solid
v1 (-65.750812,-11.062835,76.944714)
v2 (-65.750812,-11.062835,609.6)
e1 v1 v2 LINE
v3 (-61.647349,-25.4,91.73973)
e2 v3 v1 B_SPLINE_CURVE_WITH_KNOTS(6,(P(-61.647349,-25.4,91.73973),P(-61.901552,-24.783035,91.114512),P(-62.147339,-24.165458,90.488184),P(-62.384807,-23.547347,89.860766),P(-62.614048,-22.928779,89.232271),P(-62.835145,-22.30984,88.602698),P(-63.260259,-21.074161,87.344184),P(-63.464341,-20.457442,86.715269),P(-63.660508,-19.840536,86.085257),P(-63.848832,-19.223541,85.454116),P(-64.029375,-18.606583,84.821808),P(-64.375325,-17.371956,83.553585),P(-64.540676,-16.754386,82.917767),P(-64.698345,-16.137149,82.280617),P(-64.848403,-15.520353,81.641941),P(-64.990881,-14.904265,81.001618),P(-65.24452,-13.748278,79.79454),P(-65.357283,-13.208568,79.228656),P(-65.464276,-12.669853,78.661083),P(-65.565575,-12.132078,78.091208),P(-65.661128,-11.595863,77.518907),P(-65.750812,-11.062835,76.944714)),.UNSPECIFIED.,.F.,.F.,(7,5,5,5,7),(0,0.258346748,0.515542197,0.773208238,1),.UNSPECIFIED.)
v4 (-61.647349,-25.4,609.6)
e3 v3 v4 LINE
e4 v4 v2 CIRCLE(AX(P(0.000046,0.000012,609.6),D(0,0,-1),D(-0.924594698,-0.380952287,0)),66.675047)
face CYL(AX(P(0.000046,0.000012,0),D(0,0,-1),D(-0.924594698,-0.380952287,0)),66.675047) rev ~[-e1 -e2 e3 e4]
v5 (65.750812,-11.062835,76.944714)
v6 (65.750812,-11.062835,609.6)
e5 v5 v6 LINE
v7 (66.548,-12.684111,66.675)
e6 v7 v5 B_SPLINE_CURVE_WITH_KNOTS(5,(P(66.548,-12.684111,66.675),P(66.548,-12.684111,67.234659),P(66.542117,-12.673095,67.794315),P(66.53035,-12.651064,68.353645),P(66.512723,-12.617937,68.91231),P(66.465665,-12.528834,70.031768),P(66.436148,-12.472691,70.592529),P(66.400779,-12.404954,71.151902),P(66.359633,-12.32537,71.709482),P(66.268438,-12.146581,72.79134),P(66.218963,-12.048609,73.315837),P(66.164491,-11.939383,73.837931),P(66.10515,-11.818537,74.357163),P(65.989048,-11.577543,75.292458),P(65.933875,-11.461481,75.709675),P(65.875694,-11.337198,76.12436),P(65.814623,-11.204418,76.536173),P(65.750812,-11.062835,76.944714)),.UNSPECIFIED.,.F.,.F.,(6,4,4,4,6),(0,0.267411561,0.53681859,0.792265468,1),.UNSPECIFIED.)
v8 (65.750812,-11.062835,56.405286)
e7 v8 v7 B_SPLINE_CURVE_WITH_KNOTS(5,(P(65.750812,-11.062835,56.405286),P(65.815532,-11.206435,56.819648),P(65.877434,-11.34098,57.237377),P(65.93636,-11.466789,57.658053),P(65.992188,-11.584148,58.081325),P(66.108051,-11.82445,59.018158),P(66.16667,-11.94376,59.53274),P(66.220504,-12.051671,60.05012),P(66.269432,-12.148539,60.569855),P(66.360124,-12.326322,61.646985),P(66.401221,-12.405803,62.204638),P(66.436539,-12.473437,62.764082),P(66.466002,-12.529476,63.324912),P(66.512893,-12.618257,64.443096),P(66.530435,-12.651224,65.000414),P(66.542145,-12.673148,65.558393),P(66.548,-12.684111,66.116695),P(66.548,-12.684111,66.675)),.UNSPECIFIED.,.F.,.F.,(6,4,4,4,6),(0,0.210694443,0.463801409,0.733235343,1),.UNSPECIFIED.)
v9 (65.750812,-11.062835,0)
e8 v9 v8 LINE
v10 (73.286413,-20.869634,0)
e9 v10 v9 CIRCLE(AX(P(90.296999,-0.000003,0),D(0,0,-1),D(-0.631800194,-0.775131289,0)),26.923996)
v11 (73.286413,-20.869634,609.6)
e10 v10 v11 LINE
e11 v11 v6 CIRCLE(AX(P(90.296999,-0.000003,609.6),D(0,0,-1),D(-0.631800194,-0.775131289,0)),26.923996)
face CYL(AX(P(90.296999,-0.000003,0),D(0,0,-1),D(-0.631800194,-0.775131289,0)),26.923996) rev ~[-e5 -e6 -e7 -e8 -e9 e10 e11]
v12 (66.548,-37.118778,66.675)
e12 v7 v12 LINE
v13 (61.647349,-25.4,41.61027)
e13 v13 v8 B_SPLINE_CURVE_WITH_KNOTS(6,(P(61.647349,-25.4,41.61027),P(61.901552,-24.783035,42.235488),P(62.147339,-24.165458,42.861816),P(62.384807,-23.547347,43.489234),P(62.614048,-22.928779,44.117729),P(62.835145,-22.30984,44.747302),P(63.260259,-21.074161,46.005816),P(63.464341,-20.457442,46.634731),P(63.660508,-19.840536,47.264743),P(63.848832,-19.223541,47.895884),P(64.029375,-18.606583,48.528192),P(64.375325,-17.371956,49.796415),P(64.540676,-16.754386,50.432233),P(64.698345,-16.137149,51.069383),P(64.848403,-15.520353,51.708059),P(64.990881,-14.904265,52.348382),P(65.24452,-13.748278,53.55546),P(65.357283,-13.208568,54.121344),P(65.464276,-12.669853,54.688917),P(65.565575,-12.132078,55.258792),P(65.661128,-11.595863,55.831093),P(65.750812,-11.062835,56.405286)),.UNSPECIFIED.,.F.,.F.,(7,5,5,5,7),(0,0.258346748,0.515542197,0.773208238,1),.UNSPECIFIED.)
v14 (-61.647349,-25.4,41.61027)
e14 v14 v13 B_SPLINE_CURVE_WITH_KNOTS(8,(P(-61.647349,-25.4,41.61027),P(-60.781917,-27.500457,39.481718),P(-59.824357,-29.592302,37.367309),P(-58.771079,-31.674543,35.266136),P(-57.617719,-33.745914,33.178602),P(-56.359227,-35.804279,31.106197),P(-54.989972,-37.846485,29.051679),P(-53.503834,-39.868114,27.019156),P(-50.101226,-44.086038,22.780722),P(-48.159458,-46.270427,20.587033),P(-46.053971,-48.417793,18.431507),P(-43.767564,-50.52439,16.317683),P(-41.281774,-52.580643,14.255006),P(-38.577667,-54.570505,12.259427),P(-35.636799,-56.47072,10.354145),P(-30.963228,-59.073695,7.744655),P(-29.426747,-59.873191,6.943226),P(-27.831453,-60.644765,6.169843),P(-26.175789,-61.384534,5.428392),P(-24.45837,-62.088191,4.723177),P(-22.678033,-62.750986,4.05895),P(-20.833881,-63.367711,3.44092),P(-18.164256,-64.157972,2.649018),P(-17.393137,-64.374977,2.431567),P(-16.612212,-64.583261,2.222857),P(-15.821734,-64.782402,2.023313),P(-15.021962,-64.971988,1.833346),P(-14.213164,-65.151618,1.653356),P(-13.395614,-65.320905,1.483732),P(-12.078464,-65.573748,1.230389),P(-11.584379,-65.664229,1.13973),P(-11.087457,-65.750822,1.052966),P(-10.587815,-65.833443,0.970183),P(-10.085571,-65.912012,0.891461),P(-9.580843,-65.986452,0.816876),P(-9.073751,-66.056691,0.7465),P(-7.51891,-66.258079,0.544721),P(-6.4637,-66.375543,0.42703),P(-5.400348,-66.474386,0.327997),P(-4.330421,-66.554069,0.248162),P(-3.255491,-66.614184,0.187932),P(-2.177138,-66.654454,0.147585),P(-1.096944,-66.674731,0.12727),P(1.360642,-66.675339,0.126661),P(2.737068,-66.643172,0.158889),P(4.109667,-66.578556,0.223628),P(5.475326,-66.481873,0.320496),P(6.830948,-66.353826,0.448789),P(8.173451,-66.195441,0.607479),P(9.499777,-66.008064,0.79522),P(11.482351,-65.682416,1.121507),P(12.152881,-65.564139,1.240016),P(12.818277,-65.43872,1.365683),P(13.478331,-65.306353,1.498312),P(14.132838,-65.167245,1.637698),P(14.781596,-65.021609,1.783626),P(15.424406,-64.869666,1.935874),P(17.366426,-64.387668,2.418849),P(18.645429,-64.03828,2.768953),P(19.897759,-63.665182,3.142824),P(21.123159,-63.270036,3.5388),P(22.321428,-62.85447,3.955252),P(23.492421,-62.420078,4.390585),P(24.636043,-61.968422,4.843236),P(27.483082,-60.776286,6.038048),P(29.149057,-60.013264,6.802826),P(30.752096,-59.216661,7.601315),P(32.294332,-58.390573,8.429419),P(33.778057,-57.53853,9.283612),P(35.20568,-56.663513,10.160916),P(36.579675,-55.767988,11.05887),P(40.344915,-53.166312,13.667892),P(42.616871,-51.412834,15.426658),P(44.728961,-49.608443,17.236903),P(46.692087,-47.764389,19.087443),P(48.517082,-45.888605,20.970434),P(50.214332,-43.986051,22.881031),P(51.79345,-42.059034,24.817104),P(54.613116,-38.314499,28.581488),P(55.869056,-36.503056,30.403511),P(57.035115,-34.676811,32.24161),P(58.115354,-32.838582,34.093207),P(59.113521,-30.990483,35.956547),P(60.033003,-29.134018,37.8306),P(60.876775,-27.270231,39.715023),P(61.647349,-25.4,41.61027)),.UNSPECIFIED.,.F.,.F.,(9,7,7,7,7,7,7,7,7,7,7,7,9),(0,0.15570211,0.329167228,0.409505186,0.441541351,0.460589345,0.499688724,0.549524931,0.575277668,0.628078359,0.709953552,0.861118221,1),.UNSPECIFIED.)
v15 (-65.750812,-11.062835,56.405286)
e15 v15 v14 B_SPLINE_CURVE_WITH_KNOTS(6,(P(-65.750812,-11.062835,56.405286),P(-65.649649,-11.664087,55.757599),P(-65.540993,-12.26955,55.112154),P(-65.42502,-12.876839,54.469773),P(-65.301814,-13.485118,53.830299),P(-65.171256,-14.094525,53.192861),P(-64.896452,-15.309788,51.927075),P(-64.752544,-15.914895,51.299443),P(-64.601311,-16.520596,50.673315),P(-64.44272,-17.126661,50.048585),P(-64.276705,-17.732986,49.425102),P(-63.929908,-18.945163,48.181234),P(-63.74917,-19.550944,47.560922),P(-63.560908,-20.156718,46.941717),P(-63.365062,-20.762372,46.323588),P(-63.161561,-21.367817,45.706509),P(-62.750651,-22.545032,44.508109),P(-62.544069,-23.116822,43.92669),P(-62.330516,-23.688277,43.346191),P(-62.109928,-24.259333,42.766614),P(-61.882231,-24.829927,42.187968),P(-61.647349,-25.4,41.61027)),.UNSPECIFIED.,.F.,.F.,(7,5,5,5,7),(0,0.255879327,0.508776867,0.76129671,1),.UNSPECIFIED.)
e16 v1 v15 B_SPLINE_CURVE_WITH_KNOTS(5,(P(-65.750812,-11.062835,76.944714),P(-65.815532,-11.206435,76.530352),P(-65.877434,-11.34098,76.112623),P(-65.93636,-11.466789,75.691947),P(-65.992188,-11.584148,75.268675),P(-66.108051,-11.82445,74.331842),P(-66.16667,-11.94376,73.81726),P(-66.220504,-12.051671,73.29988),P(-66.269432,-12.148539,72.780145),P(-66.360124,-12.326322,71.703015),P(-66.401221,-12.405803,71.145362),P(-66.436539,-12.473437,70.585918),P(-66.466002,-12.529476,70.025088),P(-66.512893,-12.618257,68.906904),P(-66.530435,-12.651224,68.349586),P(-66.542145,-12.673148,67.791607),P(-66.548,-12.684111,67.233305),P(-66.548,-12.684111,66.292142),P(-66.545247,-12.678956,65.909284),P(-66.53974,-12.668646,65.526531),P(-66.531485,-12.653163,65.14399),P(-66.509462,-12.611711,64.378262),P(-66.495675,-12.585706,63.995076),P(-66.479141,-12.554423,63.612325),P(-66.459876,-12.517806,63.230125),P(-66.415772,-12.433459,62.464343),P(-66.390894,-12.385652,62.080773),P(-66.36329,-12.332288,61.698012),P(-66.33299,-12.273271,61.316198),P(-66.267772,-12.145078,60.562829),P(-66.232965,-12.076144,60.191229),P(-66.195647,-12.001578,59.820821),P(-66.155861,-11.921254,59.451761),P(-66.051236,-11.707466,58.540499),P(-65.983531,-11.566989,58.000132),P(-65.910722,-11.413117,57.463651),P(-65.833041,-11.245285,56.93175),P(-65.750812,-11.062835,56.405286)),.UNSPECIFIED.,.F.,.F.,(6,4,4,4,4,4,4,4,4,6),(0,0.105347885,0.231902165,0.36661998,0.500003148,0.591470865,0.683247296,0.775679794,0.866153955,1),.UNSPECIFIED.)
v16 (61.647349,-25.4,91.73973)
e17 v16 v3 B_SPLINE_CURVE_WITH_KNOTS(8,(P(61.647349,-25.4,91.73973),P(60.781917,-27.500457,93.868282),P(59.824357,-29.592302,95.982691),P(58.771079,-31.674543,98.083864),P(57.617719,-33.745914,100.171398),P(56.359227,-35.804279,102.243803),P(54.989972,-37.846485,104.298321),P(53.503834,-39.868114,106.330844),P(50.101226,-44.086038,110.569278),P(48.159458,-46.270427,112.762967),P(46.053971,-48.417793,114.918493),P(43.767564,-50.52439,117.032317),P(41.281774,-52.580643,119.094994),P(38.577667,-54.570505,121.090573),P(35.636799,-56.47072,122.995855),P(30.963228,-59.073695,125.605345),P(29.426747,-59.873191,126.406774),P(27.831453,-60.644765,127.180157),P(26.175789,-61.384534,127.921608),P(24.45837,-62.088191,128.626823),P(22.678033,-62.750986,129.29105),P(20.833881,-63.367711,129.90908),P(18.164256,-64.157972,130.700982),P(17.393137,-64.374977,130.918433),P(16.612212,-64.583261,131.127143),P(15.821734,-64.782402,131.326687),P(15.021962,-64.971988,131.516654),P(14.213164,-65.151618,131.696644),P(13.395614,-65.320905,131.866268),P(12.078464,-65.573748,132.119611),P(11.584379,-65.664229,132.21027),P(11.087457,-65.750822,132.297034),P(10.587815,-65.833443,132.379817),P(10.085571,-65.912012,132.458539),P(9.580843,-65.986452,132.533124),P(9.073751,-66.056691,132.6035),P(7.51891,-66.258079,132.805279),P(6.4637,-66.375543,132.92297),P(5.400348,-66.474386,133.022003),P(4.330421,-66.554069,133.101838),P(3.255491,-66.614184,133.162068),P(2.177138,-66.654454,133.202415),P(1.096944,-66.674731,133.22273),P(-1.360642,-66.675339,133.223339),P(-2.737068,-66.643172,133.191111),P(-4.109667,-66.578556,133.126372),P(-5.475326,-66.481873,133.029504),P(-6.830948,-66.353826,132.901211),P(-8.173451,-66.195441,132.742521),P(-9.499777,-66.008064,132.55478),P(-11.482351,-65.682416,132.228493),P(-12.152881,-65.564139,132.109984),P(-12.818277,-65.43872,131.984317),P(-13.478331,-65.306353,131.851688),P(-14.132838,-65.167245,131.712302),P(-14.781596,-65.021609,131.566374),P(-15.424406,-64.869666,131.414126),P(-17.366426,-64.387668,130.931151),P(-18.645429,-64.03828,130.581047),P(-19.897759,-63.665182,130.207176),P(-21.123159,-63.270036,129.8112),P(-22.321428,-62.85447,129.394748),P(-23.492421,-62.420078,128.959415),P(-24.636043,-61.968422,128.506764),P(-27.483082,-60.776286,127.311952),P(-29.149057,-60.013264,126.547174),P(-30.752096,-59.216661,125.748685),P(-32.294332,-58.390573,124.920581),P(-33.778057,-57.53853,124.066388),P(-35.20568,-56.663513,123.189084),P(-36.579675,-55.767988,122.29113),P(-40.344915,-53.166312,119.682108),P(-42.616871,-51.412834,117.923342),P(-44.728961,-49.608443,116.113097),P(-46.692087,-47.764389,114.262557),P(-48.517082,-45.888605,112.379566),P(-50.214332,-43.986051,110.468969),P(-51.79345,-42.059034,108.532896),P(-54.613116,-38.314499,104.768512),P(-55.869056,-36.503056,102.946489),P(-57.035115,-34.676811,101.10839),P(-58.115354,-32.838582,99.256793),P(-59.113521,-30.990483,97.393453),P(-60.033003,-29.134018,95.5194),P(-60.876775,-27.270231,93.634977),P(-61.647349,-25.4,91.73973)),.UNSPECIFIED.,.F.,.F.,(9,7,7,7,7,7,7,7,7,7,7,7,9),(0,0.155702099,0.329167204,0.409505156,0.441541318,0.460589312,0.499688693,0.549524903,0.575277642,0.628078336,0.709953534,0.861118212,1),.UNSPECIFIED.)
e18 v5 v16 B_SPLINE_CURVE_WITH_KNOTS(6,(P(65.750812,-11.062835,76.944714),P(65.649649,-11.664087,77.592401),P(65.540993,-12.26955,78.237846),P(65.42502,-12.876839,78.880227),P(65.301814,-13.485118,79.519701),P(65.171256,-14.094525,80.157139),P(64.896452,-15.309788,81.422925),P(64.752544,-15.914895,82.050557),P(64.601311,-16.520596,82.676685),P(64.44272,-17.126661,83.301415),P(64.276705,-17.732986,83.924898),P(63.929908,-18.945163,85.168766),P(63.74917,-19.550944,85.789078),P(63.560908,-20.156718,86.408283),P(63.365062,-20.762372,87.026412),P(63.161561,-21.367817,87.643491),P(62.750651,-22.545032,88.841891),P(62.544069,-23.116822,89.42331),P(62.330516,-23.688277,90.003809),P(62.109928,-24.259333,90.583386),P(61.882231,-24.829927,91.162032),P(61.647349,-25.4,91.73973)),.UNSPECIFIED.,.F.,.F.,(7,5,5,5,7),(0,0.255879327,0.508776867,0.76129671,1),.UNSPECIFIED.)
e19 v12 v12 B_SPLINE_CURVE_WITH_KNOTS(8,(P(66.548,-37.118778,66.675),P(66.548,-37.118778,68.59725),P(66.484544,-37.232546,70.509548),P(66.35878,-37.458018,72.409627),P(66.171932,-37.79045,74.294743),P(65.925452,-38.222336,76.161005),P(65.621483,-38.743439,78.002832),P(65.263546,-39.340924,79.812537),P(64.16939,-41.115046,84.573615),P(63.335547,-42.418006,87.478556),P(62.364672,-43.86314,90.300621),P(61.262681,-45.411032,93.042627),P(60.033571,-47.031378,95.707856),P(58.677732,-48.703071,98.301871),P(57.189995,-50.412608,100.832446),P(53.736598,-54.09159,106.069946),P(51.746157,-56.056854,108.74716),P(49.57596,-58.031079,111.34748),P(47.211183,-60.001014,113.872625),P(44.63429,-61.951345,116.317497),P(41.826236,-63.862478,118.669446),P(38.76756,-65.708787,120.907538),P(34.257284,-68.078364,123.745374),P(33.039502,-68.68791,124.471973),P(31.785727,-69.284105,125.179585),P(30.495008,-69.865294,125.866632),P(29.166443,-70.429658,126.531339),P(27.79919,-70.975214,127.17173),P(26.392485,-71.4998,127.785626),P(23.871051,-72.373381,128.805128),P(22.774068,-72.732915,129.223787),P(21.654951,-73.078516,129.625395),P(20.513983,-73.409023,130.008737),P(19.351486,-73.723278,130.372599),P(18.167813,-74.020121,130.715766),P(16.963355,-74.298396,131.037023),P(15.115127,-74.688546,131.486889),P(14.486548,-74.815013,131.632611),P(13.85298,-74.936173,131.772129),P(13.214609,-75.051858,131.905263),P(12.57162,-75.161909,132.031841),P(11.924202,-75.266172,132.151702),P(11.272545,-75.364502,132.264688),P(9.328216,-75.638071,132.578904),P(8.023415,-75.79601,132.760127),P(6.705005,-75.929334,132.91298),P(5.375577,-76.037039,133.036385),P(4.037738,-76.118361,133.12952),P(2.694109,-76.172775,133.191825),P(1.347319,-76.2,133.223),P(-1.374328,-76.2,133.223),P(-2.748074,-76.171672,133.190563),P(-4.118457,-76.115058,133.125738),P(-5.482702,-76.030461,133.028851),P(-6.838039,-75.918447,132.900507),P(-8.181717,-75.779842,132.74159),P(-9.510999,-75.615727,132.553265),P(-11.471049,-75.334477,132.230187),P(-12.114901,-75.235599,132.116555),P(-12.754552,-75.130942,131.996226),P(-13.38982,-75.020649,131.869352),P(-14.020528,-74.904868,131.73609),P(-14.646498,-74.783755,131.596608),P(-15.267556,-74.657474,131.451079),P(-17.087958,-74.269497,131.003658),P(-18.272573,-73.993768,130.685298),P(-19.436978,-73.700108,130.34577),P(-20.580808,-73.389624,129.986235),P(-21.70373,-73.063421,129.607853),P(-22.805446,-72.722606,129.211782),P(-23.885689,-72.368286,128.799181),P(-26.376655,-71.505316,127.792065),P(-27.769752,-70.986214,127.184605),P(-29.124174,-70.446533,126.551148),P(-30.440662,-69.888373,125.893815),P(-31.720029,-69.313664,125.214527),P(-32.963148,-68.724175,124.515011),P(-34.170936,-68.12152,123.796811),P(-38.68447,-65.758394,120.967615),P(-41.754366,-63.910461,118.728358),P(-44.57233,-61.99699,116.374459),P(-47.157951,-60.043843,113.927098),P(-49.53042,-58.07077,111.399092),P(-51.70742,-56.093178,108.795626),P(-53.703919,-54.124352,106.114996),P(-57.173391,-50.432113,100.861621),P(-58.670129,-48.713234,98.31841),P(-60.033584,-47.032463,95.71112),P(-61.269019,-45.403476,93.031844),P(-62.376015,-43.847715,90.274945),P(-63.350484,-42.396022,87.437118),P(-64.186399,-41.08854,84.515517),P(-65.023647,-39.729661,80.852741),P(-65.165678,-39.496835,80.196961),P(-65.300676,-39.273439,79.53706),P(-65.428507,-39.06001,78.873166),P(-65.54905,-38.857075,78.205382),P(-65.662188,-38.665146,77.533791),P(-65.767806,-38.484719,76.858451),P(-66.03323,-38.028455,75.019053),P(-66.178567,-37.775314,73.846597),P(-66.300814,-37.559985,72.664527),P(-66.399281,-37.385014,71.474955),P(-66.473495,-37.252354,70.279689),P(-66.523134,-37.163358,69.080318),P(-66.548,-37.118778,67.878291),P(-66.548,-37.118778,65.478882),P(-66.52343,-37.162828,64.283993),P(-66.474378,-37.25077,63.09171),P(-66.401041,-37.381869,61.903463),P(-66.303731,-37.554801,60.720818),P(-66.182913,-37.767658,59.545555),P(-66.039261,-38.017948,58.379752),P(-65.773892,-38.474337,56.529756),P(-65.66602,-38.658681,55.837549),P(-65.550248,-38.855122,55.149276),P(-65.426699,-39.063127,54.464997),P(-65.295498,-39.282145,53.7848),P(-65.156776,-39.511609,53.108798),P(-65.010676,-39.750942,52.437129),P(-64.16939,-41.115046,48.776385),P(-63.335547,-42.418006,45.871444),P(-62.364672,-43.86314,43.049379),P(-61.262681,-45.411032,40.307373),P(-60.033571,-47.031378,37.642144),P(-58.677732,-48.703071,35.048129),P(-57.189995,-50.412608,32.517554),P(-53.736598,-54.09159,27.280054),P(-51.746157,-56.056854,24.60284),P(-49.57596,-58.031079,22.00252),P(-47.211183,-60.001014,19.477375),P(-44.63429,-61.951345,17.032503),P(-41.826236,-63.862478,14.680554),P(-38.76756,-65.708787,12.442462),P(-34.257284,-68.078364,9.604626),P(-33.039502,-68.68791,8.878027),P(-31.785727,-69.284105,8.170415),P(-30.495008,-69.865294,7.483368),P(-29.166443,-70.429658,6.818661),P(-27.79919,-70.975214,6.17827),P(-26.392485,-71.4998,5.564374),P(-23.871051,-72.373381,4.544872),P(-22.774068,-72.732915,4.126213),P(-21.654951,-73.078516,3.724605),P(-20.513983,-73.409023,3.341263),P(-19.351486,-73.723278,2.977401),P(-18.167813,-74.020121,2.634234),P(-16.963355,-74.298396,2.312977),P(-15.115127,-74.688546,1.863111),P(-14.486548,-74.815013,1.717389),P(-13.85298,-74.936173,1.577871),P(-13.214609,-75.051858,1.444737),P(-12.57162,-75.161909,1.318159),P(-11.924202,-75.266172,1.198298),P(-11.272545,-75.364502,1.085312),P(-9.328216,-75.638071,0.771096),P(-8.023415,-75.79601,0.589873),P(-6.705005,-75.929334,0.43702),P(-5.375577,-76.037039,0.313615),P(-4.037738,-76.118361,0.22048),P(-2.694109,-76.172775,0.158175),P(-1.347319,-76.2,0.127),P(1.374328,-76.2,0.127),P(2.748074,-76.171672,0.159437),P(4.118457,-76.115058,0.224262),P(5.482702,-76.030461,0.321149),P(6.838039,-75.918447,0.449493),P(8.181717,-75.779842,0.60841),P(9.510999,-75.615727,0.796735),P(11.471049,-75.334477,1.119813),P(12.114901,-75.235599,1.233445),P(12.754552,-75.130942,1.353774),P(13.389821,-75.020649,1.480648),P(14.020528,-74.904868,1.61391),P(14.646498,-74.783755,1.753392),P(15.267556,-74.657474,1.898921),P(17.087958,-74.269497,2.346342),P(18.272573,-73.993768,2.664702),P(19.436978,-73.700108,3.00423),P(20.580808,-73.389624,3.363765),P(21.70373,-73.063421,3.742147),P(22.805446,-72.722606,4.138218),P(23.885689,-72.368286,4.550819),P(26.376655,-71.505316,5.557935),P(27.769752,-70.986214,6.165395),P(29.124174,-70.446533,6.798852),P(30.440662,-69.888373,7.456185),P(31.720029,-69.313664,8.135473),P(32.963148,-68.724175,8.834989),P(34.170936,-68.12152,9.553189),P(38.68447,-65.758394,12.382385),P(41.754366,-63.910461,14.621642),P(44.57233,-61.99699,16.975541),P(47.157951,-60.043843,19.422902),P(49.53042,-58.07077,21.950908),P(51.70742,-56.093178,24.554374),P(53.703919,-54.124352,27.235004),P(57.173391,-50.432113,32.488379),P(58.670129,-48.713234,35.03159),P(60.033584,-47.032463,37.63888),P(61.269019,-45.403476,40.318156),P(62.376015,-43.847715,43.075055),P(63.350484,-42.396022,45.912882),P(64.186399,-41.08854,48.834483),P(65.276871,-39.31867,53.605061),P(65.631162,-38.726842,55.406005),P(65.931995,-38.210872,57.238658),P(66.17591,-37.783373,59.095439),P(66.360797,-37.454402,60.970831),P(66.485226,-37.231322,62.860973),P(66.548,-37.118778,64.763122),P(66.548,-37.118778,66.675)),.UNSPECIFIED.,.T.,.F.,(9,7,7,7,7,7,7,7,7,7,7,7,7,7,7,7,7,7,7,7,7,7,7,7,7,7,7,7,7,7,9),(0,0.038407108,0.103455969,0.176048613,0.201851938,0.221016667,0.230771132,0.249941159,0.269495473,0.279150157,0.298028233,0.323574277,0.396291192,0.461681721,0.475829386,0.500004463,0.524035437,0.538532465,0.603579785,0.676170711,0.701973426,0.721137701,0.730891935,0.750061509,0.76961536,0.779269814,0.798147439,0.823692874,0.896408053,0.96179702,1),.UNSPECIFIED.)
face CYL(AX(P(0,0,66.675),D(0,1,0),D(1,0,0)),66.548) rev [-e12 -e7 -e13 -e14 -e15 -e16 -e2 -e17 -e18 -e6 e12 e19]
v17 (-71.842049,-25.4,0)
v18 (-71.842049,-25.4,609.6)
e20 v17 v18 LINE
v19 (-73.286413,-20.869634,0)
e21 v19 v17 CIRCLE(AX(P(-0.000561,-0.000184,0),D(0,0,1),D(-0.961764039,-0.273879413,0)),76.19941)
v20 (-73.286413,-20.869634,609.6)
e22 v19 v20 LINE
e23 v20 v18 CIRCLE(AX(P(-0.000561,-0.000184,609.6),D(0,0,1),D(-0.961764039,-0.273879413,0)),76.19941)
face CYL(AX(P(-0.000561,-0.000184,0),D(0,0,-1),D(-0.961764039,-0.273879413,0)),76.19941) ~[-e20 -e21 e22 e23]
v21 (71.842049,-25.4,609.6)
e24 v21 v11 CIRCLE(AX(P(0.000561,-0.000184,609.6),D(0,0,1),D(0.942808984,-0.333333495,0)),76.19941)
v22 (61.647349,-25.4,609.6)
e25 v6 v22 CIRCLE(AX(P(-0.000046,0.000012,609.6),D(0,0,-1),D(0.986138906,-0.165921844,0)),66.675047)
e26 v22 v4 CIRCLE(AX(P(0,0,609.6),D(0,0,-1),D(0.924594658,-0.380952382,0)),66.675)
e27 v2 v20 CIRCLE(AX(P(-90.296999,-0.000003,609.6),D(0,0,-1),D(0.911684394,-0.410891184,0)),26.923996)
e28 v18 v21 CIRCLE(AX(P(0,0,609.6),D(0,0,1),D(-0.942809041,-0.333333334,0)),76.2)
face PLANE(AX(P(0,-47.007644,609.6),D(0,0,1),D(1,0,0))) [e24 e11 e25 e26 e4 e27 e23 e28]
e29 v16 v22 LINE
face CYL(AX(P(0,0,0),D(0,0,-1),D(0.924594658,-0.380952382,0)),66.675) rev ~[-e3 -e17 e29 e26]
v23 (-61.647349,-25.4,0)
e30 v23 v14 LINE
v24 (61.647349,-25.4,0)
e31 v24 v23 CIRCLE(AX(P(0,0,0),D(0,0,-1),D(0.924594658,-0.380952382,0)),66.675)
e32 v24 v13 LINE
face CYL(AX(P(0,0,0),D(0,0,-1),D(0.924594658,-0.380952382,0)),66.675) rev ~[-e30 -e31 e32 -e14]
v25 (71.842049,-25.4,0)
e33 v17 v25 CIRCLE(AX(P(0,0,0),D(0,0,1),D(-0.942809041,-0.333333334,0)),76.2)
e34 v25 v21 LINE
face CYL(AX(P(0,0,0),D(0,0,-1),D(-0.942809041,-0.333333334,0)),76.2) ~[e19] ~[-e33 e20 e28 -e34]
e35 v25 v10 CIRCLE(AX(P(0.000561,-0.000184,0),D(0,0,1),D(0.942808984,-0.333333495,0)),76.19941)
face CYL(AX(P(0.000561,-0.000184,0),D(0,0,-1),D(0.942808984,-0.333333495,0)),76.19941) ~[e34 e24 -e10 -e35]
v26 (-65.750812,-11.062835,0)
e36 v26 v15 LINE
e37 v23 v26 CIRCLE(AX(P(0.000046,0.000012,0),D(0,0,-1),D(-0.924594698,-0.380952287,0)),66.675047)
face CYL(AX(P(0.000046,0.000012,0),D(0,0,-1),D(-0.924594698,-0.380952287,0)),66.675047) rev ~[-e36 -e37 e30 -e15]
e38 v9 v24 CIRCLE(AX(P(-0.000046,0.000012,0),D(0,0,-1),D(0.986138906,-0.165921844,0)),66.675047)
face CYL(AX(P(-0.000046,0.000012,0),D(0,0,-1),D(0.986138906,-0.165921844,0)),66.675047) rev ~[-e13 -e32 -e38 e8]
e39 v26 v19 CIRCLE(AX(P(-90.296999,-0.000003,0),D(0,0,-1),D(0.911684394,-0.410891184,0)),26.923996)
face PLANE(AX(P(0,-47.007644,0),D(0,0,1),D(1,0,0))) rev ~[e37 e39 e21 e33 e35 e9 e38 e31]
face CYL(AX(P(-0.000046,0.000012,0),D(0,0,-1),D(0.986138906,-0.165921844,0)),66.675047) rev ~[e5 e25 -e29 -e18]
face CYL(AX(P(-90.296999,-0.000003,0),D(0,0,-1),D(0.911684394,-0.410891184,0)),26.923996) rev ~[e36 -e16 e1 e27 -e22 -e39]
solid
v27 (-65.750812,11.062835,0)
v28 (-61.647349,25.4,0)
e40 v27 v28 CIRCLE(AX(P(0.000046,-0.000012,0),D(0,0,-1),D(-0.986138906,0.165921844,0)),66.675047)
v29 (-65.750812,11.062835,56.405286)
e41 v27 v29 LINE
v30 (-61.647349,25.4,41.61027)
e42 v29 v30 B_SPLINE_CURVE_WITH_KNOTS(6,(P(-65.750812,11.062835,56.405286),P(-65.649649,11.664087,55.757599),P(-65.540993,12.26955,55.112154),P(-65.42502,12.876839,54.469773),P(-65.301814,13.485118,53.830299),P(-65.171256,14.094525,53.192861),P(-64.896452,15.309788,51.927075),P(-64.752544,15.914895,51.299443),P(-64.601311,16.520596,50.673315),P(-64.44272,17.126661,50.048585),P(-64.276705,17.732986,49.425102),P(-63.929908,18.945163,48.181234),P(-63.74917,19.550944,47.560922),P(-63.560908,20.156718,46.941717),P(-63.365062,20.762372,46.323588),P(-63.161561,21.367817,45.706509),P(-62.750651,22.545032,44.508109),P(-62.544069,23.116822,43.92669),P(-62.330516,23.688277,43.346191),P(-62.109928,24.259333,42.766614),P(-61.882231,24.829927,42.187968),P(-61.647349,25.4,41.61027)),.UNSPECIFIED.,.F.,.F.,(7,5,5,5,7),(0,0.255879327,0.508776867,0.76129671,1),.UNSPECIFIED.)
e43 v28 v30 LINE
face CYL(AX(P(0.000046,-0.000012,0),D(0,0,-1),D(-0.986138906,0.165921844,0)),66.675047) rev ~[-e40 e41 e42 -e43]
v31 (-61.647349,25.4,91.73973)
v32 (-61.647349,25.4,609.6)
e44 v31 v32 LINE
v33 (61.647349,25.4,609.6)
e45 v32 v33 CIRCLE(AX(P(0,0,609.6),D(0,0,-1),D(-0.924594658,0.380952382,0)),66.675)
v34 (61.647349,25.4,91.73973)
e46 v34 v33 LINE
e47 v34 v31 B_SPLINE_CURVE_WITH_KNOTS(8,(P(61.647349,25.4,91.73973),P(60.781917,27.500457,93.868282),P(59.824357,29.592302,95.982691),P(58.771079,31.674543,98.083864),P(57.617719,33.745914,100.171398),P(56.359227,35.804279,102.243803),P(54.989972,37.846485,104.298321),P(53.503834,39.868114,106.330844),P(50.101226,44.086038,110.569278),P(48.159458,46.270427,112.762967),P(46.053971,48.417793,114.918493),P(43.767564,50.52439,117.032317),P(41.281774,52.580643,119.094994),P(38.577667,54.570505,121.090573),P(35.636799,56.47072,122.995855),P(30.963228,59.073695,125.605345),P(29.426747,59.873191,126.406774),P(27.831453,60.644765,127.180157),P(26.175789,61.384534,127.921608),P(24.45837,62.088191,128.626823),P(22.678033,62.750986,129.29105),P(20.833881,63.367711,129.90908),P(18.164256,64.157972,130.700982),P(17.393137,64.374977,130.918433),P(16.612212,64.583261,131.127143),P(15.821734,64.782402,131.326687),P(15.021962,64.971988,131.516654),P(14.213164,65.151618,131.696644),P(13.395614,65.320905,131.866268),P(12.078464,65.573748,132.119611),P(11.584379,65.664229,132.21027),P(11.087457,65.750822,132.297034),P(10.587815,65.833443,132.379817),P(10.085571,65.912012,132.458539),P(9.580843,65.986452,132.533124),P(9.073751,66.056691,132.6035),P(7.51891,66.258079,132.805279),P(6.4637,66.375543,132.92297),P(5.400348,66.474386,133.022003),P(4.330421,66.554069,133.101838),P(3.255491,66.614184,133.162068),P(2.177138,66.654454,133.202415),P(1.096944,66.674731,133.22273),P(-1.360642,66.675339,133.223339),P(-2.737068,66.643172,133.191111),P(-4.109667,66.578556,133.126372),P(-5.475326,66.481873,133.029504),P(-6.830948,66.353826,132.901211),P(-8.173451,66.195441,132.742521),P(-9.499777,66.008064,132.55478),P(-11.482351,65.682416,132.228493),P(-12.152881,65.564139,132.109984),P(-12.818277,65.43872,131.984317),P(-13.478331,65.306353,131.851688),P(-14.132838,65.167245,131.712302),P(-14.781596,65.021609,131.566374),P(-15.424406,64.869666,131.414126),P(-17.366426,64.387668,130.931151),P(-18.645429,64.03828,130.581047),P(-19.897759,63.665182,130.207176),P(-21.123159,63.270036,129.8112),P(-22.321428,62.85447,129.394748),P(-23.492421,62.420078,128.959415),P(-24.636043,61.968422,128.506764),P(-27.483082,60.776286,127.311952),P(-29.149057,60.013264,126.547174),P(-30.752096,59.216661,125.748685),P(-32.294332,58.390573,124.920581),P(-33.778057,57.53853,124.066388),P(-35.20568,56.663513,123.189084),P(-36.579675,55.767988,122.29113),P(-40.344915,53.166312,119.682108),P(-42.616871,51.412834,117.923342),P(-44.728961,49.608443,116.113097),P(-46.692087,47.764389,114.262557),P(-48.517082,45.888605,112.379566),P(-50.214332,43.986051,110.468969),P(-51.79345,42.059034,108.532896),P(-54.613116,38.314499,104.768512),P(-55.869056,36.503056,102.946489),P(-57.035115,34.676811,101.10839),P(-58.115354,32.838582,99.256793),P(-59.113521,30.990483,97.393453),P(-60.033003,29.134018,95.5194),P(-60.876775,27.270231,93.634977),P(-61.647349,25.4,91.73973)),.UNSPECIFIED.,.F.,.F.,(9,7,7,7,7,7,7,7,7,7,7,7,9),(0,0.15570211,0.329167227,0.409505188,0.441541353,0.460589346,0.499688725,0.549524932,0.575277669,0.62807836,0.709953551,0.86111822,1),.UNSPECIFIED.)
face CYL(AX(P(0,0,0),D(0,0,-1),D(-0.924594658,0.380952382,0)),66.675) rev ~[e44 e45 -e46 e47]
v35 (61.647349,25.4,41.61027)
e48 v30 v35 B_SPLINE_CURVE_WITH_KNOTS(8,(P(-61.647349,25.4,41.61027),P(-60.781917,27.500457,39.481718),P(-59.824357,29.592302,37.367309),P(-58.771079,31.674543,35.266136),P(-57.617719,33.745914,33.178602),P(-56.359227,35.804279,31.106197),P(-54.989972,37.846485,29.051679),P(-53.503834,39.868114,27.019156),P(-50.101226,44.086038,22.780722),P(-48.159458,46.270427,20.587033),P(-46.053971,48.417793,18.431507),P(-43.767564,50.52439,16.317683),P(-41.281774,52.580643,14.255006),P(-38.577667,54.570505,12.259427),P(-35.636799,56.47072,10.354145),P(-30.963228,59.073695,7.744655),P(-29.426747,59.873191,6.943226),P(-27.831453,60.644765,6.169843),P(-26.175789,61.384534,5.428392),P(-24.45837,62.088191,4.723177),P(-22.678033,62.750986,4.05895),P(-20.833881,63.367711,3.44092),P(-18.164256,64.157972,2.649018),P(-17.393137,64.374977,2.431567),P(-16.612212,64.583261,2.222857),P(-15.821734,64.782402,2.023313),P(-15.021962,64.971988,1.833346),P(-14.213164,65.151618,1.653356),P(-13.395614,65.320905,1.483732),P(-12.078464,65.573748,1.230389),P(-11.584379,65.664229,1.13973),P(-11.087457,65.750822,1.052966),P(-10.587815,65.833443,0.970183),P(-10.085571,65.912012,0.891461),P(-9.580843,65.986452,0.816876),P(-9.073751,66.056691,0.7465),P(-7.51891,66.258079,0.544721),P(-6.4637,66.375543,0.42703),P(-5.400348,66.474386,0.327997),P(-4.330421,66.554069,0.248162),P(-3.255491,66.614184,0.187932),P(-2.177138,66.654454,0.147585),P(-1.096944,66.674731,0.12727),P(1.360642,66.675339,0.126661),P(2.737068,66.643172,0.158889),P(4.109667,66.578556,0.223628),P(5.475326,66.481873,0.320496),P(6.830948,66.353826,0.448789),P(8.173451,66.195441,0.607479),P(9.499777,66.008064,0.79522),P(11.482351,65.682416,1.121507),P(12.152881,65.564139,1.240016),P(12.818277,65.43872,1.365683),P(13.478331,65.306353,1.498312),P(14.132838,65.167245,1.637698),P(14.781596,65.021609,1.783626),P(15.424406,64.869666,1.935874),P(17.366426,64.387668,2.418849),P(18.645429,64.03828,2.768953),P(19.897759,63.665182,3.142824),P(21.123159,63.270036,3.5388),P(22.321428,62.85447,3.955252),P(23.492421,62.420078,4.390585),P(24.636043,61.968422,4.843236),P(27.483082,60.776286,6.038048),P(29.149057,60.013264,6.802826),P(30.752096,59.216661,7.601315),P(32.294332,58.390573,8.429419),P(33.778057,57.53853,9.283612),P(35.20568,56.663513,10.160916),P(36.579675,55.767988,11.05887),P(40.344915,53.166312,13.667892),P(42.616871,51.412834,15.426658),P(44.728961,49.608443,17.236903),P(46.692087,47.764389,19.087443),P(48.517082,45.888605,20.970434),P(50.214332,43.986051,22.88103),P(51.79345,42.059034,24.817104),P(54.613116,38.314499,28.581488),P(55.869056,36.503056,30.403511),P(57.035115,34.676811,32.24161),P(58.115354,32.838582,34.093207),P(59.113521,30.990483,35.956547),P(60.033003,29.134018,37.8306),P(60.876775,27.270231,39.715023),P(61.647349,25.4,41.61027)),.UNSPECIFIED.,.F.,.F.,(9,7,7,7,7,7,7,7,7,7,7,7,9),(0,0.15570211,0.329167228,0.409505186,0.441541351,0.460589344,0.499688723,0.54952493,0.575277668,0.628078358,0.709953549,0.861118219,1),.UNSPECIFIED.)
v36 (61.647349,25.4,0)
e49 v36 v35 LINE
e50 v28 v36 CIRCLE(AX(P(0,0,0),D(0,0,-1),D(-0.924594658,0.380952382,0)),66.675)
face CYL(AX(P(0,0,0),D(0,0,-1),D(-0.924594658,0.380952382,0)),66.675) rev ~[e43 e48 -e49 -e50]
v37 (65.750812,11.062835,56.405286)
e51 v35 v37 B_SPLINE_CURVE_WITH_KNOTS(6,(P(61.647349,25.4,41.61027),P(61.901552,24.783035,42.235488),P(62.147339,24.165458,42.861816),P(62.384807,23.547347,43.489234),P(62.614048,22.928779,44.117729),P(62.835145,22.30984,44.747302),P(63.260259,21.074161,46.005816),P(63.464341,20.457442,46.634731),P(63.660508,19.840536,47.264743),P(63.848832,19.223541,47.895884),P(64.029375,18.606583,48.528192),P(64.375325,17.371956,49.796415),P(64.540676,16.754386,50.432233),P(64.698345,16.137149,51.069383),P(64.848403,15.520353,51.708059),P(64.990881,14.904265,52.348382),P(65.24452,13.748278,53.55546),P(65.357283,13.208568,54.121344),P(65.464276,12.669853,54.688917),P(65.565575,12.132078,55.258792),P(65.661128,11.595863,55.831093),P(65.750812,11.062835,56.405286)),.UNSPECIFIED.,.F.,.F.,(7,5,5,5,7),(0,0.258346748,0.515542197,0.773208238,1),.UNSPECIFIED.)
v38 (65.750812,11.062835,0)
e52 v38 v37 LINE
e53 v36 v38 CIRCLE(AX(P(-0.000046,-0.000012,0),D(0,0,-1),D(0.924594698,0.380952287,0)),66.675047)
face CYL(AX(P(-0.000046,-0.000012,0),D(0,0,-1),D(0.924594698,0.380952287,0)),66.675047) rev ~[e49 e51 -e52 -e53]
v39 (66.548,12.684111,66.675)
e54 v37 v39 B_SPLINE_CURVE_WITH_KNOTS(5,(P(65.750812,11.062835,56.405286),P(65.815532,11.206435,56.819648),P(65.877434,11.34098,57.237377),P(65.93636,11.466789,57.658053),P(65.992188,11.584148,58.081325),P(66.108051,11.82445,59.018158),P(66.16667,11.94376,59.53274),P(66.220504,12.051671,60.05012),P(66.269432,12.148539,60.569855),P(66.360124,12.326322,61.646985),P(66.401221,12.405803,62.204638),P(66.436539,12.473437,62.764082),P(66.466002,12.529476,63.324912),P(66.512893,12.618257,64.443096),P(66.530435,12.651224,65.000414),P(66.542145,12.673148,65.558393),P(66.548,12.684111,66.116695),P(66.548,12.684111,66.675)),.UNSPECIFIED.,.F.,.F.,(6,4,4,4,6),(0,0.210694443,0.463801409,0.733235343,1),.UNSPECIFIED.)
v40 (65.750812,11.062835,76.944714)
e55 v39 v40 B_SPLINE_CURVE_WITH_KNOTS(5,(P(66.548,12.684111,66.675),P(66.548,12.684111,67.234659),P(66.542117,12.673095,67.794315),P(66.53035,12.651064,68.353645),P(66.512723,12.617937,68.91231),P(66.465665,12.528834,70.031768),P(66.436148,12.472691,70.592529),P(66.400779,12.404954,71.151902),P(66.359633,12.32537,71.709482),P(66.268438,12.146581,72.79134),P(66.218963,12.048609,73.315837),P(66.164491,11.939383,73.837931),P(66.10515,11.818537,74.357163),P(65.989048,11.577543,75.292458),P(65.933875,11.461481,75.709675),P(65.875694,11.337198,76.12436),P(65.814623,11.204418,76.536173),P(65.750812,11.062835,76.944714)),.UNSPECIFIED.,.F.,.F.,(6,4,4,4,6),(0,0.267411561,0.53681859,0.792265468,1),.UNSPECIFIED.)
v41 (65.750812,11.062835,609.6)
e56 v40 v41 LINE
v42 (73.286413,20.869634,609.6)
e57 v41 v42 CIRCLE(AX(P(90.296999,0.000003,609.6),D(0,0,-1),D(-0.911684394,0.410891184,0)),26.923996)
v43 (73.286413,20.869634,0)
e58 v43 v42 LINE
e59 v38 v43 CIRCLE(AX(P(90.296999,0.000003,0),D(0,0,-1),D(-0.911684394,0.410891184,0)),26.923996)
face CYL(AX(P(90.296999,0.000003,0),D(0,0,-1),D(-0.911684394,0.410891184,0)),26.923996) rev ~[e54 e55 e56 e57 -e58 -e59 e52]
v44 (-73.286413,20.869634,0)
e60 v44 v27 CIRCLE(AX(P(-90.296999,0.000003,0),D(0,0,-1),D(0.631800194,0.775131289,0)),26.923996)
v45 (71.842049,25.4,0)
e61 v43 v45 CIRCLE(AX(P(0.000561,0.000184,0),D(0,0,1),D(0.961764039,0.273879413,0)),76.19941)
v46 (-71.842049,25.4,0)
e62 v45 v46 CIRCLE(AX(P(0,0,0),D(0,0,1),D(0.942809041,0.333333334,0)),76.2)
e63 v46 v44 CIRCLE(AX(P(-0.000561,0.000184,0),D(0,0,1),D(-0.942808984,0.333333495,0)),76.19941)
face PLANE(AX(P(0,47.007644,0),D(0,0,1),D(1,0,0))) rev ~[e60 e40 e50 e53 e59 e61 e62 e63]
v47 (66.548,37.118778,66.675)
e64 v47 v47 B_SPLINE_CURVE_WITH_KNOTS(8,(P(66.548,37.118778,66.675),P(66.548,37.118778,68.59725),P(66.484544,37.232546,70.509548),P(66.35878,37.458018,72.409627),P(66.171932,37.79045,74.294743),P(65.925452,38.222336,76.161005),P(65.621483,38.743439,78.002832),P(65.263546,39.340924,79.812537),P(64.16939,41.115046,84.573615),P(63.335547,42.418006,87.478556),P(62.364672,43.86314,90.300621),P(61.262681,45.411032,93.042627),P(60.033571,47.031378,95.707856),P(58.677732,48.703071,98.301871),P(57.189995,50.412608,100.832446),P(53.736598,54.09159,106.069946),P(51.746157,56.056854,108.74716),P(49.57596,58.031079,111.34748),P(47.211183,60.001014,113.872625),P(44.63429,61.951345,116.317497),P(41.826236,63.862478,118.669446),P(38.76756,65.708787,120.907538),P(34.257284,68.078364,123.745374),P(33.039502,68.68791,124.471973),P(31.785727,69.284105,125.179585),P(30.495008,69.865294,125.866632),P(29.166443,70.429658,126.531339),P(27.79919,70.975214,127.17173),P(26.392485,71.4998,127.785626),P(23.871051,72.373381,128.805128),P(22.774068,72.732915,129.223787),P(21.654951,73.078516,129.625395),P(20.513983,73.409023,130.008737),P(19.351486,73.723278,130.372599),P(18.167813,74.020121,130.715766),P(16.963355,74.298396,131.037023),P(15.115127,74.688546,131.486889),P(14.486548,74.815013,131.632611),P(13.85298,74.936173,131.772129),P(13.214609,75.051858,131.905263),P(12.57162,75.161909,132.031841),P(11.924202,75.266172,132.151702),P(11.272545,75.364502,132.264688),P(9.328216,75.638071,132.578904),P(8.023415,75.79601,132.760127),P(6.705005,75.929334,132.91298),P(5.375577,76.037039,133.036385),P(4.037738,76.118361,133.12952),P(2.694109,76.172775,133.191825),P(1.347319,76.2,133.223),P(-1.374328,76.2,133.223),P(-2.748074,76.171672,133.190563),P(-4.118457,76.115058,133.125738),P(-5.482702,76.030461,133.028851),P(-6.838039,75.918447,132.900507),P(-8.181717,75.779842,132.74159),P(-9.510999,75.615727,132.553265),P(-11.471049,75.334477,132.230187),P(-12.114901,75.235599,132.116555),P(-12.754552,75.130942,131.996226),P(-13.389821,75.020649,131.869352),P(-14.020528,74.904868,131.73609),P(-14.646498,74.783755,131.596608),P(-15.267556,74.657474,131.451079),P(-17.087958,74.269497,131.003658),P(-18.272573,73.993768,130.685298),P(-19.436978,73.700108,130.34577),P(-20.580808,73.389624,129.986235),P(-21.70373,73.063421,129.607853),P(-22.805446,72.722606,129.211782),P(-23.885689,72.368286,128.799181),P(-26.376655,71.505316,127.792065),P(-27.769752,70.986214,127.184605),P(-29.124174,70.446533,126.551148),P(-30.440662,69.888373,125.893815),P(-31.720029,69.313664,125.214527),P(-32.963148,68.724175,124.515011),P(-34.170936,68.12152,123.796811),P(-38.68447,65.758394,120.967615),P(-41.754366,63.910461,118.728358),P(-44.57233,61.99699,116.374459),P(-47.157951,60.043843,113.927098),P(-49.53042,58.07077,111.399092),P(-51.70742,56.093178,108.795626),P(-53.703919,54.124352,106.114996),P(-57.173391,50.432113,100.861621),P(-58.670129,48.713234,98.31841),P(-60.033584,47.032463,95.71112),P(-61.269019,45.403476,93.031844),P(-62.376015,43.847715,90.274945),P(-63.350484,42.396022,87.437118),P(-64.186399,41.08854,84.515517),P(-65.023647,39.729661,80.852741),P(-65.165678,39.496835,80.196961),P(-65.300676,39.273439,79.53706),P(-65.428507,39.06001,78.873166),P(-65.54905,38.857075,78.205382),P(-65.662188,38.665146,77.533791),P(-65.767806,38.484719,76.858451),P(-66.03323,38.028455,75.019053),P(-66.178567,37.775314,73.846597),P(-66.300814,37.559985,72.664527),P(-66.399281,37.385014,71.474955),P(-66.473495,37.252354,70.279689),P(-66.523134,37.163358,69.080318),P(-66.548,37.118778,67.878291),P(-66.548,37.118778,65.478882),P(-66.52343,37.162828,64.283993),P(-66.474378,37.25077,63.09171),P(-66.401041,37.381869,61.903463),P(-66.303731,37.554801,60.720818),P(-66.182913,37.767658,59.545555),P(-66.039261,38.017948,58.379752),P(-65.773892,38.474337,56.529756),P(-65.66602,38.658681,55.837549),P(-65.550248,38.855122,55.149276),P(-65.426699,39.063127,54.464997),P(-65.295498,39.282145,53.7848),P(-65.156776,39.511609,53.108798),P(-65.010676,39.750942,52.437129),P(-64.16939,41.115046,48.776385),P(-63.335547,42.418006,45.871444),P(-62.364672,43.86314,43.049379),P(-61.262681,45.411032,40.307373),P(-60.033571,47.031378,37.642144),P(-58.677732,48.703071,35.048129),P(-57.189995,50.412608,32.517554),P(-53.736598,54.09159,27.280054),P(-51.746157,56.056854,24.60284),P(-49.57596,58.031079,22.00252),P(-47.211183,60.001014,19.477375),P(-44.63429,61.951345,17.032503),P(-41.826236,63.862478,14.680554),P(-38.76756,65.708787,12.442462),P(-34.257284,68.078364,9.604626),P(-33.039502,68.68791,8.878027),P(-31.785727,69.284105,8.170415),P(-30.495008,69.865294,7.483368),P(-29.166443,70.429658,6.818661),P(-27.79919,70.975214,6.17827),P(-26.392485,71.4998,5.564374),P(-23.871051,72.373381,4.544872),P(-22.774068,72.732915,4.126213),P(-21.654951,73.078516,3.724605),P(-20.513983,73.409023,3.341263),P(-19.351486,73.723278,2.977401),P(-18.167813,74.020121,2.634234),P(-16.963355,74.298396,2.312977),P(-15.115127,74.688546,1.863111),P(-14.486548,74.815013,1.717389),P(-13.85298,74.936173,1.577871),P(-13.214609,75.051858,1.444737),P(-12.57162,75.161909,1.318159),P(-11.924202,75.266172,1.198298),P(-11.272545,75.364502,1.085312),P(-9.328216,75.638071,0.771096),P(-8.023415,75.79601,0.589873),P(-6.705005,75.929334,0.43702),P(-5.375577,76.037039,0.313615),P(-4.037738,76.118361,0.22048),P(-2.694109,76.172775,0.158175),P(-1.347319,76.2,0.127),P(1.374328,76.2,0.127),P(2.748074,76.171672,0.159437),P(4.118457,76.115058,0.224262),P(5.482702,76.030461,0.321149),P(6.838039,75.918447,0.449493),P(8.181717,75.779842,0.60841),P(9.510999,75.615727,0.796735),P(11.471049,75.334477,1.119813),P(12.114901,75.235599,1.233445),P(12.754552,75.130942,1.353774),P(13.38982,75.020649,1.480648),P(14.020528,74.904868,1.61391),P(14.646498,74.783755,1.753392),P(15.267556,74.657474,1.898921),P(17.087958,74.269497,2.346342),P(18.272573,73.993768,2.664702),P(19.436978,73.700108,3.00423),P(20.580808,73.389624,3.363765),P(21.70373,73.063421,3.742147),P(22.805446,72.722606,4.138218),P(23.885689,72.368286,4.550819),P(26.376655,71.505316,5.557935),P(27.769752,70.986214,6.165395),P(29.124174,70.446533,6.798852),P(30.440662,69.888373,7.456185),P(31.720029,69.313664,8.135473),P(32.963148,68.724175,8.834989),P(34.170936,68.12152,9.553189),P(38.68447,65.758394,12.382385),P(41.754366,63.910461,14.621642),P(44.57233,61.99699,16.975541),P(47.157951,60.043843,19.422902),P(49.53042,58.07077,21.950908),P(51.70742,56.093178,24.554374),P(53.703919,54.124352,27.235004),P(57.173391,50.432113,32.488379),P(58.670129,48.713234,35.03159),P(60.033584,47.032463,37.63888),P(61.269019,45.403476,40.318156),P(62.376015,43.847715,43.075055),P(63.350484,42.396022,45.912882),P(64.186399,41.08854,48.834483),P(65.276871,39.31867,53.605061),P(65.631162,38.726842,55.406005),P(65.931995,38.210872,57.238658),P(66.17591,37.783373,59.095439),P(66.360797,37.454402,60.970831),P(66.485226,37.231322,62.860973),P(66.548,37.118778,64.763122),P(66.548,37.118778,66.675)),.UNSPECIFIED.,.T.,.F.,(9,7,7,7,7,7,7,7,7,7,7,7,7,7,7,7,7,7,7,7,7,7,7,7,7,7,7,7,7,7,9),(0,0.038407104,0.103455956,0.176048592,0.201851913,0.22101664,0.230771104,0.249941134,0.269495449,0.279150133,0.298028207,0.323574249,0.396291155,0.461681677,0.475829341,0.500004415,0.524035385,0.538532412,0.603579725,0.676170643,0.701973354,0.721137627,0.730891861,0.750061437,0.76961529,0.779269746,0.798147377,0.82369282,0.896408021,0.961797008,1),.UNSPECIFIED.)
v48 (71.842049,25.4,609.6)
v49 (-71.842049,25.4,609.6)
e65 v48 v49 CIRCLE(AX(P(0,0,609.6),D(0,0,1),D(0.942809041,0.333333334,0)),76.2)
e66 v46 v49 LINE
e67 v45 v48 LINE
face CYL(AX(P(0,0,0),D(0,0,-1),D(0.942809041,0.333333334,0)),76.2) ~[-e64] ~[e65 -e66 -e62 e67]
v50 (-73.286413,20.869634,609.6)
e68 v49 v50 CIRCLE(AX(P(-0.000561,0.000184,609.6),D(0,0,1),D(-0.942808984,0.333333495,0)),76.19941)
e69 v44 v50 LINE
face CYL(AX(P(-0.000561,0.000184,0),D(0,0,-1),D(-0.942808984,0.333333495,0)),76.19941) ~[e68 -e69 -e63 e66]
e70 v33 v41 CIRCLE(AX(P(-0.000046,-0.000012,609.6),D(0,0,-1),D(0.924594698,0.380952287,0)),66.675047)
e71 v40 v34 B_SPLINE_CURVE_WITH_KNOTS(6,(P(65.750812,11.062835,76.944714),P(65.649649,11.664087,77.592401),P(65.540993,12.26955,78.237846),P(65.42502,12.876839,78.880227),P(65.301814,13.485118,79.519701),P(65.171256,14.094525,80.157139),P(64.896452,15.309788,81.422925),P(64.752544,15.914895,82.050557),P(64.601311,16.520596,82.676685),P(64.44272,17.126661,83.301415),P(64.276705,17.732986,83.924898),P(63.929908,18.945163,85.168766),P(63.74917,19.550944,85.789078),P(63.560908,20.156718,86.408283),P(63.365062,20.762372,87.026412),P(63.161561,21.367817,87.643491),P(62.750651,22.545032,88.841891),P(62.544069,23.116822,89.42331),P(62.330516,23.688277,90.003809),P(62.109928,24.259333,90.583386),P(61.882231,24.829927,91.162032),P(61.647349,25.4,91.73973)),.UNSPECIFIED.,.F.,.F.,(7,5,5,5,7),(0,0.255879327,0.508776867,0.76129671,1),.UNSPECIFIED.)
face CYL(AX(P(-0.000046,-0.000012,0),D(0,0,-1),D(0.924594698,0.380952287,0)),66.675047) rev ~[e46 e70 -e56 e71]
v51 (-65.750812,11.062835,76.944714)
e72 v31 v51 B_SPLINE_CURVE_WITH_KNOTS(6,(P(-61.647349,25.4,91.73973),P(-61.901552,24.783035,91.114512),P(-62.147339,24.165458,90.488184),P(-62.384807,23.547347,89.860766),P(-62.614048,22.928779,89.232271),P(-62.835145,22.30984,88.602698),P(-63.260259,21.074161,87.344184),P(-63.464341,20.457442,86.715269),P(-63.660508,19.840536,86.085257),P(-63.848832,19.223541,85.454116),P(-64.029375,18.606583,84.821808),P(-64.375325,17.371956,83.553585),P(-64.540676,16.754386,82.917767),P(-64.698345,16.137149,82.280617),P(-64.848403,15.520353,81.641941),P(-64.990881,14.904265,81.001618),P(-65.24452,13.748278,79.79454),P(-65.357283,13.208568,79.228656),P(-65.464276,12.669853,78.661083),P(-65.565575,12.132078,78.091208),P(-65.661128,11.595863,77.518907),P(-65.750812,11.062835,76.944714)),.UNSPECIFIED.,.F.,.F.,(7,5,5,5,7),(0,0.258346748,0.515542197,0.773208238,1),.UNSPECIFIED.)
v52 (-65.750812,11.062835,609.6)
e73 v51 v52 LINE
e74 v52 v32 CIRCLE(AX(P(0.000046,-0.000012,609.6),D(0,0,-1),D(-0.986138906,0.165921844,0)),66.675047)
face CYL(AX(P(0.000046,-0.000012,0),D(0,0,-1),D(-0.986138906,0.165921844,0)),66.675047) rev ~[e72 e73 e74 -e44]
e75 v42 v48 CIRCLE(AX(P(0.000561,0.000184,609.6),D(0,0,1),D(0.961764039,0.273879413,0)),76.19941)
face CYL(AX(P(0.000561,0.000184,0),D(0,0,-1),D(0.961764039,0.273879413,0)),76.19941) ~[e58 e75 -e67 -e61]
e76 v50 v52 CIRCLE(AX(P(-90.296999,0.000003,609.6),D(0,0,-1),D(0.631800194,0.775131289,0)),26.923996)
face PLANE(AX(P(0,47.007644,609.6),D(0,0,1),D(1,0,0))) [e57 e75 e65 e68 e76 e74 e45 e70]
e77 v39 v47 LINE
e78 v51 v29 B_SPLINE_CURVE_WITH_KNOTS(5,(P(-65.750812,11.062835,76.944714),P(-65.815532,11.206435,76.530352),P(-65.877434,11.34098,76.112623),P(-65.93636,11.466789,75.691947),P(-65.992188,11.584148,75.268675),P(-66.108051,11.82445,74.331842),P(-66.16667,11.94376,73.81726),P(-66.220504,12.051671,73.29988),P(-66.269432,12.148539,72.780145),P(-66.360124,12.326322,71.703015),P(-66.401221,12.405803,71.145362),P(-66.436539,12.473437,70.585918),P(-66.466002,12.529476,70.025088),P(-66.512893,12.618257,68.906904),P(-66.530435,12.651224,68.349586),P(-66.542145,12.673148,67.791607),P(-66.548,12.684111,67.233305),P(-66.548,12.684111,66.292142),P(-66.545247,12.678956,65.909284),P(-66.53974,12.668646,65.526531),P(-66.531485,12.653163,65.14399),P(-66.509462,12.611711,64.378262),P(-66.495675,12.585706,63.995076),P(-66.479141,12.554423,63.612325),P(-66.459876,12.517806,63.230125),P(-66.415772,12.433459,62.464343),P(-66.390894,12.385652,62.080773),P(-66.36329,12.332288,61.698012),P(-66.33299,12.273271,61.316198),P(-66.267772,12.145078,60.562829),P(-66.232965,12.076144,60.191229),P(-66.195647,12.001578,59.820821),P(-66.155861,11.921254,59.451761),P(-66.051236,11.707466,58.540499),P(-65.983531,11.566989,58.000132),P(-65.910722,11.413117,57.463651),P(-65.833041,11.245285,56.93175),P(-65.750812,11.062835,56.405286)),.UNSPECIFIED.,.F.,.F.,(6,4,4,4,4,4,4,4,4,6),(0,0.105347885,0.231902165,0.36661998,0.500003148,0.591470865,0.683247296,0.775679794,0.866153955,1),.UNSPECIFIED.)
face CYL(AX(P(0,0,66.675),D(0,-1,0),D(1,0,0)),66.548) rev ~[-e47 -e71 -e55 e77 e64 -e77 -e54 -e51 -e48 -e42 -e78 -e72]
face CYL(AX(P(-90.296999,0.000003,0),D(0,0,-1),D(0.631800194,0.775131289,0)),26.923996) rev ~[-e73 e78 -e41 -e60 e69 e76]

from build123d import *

# Parameters (mm, degrees)
F1_DEPTH = 609.6
F3_R     = 66.548
F4_DEPTH = 154.94
F5_DEPTH = 124.46


with BuildPart() as f1:
    # F0 (on Top) → F1 (new body)
    with BuildSketch(Plane.XY):
        with BuildLine():
            ThreePointArc((61.647349, -25.4), (0, -66.675), (-61.647349, -25.4))
            ThreePointArc((-61.647349, -25.4), (-64.101181, -18.346503), (-65.750812, -11.062835))
            ThreePointArc((-65.750812, -11.062835), (-68.947885, -16.404785), (-73.286413, -20.869634))
            ThreePointArc((-73.286413, -20.869634), (-72.599578, -23.146086), (-71.842049, -25.4))
            ThreePointArc((-71.842049, -25.4), (0, -76.2), (71.842049, -25.4))
            ThreePointArc((71.842049, -25.4), (72.599578, -23.146086), (73.286413, -20.869634))
            ThreePointArc((73.286413, -20.869634), (68.947885, -16.404785), (65.750812, -11.062835))
            ThreePointArc((65.750812, -11.062835), (64.101181, -18.346503), (61.647349, -25.4))
        make_face()
        with BuildLine():
            ThreePointArc((-61.647349, 25.4), (0, 66.675), (61.647349, 25.4))
            ThreePointArc((61.647349, 25.4), (64.101181, 18.346503), (65.750812, 11.062835))
            ThreePointArc((65.750812, 11.062835), (68.947885, 16.404785), (73.286413, 20.869634))
            ThreePointArc((73.286413, 20.869634), (72.599578, 23.146086), (71.842049, 25.4))
            ThreePointArc((71.842049, 25.4), (0, 76.2), (-71.842049, 25.4))
            ThreePointArc((-71.842049, 25.4), (-72.599578, 23.146086), (-73.286413, 20.869634))
            ThreePointArc((-73.286413, 20.869634), (-68.947885, 16.404785), (-65.750812, 11.062835))
            ThreePointArc((-65.750812, 11.062835), (-64.101181, 18.346503), (-61.647349, 25.4))
        make_face()
    extrude(amount=F1_DEPTH)

    # F3 (on Front) → F4 (cut)
    with BuildSketch(Plane.XZ):
        with Locations((0, 66.675)):
            Circle(F3_R)
    extrude(amount=-F4_DEPTH, mode=Mode.SUBTRACT)

    # F3 (on Front) → F5 (cut)
    with BuildSketch(Plane.XZ):
        with Locations((0, 66.675)):
            Circle(F3_R)
    extrude(amount=F5_DEPTH, mode=Mode.SUBTRACT)


solid = f1.part
